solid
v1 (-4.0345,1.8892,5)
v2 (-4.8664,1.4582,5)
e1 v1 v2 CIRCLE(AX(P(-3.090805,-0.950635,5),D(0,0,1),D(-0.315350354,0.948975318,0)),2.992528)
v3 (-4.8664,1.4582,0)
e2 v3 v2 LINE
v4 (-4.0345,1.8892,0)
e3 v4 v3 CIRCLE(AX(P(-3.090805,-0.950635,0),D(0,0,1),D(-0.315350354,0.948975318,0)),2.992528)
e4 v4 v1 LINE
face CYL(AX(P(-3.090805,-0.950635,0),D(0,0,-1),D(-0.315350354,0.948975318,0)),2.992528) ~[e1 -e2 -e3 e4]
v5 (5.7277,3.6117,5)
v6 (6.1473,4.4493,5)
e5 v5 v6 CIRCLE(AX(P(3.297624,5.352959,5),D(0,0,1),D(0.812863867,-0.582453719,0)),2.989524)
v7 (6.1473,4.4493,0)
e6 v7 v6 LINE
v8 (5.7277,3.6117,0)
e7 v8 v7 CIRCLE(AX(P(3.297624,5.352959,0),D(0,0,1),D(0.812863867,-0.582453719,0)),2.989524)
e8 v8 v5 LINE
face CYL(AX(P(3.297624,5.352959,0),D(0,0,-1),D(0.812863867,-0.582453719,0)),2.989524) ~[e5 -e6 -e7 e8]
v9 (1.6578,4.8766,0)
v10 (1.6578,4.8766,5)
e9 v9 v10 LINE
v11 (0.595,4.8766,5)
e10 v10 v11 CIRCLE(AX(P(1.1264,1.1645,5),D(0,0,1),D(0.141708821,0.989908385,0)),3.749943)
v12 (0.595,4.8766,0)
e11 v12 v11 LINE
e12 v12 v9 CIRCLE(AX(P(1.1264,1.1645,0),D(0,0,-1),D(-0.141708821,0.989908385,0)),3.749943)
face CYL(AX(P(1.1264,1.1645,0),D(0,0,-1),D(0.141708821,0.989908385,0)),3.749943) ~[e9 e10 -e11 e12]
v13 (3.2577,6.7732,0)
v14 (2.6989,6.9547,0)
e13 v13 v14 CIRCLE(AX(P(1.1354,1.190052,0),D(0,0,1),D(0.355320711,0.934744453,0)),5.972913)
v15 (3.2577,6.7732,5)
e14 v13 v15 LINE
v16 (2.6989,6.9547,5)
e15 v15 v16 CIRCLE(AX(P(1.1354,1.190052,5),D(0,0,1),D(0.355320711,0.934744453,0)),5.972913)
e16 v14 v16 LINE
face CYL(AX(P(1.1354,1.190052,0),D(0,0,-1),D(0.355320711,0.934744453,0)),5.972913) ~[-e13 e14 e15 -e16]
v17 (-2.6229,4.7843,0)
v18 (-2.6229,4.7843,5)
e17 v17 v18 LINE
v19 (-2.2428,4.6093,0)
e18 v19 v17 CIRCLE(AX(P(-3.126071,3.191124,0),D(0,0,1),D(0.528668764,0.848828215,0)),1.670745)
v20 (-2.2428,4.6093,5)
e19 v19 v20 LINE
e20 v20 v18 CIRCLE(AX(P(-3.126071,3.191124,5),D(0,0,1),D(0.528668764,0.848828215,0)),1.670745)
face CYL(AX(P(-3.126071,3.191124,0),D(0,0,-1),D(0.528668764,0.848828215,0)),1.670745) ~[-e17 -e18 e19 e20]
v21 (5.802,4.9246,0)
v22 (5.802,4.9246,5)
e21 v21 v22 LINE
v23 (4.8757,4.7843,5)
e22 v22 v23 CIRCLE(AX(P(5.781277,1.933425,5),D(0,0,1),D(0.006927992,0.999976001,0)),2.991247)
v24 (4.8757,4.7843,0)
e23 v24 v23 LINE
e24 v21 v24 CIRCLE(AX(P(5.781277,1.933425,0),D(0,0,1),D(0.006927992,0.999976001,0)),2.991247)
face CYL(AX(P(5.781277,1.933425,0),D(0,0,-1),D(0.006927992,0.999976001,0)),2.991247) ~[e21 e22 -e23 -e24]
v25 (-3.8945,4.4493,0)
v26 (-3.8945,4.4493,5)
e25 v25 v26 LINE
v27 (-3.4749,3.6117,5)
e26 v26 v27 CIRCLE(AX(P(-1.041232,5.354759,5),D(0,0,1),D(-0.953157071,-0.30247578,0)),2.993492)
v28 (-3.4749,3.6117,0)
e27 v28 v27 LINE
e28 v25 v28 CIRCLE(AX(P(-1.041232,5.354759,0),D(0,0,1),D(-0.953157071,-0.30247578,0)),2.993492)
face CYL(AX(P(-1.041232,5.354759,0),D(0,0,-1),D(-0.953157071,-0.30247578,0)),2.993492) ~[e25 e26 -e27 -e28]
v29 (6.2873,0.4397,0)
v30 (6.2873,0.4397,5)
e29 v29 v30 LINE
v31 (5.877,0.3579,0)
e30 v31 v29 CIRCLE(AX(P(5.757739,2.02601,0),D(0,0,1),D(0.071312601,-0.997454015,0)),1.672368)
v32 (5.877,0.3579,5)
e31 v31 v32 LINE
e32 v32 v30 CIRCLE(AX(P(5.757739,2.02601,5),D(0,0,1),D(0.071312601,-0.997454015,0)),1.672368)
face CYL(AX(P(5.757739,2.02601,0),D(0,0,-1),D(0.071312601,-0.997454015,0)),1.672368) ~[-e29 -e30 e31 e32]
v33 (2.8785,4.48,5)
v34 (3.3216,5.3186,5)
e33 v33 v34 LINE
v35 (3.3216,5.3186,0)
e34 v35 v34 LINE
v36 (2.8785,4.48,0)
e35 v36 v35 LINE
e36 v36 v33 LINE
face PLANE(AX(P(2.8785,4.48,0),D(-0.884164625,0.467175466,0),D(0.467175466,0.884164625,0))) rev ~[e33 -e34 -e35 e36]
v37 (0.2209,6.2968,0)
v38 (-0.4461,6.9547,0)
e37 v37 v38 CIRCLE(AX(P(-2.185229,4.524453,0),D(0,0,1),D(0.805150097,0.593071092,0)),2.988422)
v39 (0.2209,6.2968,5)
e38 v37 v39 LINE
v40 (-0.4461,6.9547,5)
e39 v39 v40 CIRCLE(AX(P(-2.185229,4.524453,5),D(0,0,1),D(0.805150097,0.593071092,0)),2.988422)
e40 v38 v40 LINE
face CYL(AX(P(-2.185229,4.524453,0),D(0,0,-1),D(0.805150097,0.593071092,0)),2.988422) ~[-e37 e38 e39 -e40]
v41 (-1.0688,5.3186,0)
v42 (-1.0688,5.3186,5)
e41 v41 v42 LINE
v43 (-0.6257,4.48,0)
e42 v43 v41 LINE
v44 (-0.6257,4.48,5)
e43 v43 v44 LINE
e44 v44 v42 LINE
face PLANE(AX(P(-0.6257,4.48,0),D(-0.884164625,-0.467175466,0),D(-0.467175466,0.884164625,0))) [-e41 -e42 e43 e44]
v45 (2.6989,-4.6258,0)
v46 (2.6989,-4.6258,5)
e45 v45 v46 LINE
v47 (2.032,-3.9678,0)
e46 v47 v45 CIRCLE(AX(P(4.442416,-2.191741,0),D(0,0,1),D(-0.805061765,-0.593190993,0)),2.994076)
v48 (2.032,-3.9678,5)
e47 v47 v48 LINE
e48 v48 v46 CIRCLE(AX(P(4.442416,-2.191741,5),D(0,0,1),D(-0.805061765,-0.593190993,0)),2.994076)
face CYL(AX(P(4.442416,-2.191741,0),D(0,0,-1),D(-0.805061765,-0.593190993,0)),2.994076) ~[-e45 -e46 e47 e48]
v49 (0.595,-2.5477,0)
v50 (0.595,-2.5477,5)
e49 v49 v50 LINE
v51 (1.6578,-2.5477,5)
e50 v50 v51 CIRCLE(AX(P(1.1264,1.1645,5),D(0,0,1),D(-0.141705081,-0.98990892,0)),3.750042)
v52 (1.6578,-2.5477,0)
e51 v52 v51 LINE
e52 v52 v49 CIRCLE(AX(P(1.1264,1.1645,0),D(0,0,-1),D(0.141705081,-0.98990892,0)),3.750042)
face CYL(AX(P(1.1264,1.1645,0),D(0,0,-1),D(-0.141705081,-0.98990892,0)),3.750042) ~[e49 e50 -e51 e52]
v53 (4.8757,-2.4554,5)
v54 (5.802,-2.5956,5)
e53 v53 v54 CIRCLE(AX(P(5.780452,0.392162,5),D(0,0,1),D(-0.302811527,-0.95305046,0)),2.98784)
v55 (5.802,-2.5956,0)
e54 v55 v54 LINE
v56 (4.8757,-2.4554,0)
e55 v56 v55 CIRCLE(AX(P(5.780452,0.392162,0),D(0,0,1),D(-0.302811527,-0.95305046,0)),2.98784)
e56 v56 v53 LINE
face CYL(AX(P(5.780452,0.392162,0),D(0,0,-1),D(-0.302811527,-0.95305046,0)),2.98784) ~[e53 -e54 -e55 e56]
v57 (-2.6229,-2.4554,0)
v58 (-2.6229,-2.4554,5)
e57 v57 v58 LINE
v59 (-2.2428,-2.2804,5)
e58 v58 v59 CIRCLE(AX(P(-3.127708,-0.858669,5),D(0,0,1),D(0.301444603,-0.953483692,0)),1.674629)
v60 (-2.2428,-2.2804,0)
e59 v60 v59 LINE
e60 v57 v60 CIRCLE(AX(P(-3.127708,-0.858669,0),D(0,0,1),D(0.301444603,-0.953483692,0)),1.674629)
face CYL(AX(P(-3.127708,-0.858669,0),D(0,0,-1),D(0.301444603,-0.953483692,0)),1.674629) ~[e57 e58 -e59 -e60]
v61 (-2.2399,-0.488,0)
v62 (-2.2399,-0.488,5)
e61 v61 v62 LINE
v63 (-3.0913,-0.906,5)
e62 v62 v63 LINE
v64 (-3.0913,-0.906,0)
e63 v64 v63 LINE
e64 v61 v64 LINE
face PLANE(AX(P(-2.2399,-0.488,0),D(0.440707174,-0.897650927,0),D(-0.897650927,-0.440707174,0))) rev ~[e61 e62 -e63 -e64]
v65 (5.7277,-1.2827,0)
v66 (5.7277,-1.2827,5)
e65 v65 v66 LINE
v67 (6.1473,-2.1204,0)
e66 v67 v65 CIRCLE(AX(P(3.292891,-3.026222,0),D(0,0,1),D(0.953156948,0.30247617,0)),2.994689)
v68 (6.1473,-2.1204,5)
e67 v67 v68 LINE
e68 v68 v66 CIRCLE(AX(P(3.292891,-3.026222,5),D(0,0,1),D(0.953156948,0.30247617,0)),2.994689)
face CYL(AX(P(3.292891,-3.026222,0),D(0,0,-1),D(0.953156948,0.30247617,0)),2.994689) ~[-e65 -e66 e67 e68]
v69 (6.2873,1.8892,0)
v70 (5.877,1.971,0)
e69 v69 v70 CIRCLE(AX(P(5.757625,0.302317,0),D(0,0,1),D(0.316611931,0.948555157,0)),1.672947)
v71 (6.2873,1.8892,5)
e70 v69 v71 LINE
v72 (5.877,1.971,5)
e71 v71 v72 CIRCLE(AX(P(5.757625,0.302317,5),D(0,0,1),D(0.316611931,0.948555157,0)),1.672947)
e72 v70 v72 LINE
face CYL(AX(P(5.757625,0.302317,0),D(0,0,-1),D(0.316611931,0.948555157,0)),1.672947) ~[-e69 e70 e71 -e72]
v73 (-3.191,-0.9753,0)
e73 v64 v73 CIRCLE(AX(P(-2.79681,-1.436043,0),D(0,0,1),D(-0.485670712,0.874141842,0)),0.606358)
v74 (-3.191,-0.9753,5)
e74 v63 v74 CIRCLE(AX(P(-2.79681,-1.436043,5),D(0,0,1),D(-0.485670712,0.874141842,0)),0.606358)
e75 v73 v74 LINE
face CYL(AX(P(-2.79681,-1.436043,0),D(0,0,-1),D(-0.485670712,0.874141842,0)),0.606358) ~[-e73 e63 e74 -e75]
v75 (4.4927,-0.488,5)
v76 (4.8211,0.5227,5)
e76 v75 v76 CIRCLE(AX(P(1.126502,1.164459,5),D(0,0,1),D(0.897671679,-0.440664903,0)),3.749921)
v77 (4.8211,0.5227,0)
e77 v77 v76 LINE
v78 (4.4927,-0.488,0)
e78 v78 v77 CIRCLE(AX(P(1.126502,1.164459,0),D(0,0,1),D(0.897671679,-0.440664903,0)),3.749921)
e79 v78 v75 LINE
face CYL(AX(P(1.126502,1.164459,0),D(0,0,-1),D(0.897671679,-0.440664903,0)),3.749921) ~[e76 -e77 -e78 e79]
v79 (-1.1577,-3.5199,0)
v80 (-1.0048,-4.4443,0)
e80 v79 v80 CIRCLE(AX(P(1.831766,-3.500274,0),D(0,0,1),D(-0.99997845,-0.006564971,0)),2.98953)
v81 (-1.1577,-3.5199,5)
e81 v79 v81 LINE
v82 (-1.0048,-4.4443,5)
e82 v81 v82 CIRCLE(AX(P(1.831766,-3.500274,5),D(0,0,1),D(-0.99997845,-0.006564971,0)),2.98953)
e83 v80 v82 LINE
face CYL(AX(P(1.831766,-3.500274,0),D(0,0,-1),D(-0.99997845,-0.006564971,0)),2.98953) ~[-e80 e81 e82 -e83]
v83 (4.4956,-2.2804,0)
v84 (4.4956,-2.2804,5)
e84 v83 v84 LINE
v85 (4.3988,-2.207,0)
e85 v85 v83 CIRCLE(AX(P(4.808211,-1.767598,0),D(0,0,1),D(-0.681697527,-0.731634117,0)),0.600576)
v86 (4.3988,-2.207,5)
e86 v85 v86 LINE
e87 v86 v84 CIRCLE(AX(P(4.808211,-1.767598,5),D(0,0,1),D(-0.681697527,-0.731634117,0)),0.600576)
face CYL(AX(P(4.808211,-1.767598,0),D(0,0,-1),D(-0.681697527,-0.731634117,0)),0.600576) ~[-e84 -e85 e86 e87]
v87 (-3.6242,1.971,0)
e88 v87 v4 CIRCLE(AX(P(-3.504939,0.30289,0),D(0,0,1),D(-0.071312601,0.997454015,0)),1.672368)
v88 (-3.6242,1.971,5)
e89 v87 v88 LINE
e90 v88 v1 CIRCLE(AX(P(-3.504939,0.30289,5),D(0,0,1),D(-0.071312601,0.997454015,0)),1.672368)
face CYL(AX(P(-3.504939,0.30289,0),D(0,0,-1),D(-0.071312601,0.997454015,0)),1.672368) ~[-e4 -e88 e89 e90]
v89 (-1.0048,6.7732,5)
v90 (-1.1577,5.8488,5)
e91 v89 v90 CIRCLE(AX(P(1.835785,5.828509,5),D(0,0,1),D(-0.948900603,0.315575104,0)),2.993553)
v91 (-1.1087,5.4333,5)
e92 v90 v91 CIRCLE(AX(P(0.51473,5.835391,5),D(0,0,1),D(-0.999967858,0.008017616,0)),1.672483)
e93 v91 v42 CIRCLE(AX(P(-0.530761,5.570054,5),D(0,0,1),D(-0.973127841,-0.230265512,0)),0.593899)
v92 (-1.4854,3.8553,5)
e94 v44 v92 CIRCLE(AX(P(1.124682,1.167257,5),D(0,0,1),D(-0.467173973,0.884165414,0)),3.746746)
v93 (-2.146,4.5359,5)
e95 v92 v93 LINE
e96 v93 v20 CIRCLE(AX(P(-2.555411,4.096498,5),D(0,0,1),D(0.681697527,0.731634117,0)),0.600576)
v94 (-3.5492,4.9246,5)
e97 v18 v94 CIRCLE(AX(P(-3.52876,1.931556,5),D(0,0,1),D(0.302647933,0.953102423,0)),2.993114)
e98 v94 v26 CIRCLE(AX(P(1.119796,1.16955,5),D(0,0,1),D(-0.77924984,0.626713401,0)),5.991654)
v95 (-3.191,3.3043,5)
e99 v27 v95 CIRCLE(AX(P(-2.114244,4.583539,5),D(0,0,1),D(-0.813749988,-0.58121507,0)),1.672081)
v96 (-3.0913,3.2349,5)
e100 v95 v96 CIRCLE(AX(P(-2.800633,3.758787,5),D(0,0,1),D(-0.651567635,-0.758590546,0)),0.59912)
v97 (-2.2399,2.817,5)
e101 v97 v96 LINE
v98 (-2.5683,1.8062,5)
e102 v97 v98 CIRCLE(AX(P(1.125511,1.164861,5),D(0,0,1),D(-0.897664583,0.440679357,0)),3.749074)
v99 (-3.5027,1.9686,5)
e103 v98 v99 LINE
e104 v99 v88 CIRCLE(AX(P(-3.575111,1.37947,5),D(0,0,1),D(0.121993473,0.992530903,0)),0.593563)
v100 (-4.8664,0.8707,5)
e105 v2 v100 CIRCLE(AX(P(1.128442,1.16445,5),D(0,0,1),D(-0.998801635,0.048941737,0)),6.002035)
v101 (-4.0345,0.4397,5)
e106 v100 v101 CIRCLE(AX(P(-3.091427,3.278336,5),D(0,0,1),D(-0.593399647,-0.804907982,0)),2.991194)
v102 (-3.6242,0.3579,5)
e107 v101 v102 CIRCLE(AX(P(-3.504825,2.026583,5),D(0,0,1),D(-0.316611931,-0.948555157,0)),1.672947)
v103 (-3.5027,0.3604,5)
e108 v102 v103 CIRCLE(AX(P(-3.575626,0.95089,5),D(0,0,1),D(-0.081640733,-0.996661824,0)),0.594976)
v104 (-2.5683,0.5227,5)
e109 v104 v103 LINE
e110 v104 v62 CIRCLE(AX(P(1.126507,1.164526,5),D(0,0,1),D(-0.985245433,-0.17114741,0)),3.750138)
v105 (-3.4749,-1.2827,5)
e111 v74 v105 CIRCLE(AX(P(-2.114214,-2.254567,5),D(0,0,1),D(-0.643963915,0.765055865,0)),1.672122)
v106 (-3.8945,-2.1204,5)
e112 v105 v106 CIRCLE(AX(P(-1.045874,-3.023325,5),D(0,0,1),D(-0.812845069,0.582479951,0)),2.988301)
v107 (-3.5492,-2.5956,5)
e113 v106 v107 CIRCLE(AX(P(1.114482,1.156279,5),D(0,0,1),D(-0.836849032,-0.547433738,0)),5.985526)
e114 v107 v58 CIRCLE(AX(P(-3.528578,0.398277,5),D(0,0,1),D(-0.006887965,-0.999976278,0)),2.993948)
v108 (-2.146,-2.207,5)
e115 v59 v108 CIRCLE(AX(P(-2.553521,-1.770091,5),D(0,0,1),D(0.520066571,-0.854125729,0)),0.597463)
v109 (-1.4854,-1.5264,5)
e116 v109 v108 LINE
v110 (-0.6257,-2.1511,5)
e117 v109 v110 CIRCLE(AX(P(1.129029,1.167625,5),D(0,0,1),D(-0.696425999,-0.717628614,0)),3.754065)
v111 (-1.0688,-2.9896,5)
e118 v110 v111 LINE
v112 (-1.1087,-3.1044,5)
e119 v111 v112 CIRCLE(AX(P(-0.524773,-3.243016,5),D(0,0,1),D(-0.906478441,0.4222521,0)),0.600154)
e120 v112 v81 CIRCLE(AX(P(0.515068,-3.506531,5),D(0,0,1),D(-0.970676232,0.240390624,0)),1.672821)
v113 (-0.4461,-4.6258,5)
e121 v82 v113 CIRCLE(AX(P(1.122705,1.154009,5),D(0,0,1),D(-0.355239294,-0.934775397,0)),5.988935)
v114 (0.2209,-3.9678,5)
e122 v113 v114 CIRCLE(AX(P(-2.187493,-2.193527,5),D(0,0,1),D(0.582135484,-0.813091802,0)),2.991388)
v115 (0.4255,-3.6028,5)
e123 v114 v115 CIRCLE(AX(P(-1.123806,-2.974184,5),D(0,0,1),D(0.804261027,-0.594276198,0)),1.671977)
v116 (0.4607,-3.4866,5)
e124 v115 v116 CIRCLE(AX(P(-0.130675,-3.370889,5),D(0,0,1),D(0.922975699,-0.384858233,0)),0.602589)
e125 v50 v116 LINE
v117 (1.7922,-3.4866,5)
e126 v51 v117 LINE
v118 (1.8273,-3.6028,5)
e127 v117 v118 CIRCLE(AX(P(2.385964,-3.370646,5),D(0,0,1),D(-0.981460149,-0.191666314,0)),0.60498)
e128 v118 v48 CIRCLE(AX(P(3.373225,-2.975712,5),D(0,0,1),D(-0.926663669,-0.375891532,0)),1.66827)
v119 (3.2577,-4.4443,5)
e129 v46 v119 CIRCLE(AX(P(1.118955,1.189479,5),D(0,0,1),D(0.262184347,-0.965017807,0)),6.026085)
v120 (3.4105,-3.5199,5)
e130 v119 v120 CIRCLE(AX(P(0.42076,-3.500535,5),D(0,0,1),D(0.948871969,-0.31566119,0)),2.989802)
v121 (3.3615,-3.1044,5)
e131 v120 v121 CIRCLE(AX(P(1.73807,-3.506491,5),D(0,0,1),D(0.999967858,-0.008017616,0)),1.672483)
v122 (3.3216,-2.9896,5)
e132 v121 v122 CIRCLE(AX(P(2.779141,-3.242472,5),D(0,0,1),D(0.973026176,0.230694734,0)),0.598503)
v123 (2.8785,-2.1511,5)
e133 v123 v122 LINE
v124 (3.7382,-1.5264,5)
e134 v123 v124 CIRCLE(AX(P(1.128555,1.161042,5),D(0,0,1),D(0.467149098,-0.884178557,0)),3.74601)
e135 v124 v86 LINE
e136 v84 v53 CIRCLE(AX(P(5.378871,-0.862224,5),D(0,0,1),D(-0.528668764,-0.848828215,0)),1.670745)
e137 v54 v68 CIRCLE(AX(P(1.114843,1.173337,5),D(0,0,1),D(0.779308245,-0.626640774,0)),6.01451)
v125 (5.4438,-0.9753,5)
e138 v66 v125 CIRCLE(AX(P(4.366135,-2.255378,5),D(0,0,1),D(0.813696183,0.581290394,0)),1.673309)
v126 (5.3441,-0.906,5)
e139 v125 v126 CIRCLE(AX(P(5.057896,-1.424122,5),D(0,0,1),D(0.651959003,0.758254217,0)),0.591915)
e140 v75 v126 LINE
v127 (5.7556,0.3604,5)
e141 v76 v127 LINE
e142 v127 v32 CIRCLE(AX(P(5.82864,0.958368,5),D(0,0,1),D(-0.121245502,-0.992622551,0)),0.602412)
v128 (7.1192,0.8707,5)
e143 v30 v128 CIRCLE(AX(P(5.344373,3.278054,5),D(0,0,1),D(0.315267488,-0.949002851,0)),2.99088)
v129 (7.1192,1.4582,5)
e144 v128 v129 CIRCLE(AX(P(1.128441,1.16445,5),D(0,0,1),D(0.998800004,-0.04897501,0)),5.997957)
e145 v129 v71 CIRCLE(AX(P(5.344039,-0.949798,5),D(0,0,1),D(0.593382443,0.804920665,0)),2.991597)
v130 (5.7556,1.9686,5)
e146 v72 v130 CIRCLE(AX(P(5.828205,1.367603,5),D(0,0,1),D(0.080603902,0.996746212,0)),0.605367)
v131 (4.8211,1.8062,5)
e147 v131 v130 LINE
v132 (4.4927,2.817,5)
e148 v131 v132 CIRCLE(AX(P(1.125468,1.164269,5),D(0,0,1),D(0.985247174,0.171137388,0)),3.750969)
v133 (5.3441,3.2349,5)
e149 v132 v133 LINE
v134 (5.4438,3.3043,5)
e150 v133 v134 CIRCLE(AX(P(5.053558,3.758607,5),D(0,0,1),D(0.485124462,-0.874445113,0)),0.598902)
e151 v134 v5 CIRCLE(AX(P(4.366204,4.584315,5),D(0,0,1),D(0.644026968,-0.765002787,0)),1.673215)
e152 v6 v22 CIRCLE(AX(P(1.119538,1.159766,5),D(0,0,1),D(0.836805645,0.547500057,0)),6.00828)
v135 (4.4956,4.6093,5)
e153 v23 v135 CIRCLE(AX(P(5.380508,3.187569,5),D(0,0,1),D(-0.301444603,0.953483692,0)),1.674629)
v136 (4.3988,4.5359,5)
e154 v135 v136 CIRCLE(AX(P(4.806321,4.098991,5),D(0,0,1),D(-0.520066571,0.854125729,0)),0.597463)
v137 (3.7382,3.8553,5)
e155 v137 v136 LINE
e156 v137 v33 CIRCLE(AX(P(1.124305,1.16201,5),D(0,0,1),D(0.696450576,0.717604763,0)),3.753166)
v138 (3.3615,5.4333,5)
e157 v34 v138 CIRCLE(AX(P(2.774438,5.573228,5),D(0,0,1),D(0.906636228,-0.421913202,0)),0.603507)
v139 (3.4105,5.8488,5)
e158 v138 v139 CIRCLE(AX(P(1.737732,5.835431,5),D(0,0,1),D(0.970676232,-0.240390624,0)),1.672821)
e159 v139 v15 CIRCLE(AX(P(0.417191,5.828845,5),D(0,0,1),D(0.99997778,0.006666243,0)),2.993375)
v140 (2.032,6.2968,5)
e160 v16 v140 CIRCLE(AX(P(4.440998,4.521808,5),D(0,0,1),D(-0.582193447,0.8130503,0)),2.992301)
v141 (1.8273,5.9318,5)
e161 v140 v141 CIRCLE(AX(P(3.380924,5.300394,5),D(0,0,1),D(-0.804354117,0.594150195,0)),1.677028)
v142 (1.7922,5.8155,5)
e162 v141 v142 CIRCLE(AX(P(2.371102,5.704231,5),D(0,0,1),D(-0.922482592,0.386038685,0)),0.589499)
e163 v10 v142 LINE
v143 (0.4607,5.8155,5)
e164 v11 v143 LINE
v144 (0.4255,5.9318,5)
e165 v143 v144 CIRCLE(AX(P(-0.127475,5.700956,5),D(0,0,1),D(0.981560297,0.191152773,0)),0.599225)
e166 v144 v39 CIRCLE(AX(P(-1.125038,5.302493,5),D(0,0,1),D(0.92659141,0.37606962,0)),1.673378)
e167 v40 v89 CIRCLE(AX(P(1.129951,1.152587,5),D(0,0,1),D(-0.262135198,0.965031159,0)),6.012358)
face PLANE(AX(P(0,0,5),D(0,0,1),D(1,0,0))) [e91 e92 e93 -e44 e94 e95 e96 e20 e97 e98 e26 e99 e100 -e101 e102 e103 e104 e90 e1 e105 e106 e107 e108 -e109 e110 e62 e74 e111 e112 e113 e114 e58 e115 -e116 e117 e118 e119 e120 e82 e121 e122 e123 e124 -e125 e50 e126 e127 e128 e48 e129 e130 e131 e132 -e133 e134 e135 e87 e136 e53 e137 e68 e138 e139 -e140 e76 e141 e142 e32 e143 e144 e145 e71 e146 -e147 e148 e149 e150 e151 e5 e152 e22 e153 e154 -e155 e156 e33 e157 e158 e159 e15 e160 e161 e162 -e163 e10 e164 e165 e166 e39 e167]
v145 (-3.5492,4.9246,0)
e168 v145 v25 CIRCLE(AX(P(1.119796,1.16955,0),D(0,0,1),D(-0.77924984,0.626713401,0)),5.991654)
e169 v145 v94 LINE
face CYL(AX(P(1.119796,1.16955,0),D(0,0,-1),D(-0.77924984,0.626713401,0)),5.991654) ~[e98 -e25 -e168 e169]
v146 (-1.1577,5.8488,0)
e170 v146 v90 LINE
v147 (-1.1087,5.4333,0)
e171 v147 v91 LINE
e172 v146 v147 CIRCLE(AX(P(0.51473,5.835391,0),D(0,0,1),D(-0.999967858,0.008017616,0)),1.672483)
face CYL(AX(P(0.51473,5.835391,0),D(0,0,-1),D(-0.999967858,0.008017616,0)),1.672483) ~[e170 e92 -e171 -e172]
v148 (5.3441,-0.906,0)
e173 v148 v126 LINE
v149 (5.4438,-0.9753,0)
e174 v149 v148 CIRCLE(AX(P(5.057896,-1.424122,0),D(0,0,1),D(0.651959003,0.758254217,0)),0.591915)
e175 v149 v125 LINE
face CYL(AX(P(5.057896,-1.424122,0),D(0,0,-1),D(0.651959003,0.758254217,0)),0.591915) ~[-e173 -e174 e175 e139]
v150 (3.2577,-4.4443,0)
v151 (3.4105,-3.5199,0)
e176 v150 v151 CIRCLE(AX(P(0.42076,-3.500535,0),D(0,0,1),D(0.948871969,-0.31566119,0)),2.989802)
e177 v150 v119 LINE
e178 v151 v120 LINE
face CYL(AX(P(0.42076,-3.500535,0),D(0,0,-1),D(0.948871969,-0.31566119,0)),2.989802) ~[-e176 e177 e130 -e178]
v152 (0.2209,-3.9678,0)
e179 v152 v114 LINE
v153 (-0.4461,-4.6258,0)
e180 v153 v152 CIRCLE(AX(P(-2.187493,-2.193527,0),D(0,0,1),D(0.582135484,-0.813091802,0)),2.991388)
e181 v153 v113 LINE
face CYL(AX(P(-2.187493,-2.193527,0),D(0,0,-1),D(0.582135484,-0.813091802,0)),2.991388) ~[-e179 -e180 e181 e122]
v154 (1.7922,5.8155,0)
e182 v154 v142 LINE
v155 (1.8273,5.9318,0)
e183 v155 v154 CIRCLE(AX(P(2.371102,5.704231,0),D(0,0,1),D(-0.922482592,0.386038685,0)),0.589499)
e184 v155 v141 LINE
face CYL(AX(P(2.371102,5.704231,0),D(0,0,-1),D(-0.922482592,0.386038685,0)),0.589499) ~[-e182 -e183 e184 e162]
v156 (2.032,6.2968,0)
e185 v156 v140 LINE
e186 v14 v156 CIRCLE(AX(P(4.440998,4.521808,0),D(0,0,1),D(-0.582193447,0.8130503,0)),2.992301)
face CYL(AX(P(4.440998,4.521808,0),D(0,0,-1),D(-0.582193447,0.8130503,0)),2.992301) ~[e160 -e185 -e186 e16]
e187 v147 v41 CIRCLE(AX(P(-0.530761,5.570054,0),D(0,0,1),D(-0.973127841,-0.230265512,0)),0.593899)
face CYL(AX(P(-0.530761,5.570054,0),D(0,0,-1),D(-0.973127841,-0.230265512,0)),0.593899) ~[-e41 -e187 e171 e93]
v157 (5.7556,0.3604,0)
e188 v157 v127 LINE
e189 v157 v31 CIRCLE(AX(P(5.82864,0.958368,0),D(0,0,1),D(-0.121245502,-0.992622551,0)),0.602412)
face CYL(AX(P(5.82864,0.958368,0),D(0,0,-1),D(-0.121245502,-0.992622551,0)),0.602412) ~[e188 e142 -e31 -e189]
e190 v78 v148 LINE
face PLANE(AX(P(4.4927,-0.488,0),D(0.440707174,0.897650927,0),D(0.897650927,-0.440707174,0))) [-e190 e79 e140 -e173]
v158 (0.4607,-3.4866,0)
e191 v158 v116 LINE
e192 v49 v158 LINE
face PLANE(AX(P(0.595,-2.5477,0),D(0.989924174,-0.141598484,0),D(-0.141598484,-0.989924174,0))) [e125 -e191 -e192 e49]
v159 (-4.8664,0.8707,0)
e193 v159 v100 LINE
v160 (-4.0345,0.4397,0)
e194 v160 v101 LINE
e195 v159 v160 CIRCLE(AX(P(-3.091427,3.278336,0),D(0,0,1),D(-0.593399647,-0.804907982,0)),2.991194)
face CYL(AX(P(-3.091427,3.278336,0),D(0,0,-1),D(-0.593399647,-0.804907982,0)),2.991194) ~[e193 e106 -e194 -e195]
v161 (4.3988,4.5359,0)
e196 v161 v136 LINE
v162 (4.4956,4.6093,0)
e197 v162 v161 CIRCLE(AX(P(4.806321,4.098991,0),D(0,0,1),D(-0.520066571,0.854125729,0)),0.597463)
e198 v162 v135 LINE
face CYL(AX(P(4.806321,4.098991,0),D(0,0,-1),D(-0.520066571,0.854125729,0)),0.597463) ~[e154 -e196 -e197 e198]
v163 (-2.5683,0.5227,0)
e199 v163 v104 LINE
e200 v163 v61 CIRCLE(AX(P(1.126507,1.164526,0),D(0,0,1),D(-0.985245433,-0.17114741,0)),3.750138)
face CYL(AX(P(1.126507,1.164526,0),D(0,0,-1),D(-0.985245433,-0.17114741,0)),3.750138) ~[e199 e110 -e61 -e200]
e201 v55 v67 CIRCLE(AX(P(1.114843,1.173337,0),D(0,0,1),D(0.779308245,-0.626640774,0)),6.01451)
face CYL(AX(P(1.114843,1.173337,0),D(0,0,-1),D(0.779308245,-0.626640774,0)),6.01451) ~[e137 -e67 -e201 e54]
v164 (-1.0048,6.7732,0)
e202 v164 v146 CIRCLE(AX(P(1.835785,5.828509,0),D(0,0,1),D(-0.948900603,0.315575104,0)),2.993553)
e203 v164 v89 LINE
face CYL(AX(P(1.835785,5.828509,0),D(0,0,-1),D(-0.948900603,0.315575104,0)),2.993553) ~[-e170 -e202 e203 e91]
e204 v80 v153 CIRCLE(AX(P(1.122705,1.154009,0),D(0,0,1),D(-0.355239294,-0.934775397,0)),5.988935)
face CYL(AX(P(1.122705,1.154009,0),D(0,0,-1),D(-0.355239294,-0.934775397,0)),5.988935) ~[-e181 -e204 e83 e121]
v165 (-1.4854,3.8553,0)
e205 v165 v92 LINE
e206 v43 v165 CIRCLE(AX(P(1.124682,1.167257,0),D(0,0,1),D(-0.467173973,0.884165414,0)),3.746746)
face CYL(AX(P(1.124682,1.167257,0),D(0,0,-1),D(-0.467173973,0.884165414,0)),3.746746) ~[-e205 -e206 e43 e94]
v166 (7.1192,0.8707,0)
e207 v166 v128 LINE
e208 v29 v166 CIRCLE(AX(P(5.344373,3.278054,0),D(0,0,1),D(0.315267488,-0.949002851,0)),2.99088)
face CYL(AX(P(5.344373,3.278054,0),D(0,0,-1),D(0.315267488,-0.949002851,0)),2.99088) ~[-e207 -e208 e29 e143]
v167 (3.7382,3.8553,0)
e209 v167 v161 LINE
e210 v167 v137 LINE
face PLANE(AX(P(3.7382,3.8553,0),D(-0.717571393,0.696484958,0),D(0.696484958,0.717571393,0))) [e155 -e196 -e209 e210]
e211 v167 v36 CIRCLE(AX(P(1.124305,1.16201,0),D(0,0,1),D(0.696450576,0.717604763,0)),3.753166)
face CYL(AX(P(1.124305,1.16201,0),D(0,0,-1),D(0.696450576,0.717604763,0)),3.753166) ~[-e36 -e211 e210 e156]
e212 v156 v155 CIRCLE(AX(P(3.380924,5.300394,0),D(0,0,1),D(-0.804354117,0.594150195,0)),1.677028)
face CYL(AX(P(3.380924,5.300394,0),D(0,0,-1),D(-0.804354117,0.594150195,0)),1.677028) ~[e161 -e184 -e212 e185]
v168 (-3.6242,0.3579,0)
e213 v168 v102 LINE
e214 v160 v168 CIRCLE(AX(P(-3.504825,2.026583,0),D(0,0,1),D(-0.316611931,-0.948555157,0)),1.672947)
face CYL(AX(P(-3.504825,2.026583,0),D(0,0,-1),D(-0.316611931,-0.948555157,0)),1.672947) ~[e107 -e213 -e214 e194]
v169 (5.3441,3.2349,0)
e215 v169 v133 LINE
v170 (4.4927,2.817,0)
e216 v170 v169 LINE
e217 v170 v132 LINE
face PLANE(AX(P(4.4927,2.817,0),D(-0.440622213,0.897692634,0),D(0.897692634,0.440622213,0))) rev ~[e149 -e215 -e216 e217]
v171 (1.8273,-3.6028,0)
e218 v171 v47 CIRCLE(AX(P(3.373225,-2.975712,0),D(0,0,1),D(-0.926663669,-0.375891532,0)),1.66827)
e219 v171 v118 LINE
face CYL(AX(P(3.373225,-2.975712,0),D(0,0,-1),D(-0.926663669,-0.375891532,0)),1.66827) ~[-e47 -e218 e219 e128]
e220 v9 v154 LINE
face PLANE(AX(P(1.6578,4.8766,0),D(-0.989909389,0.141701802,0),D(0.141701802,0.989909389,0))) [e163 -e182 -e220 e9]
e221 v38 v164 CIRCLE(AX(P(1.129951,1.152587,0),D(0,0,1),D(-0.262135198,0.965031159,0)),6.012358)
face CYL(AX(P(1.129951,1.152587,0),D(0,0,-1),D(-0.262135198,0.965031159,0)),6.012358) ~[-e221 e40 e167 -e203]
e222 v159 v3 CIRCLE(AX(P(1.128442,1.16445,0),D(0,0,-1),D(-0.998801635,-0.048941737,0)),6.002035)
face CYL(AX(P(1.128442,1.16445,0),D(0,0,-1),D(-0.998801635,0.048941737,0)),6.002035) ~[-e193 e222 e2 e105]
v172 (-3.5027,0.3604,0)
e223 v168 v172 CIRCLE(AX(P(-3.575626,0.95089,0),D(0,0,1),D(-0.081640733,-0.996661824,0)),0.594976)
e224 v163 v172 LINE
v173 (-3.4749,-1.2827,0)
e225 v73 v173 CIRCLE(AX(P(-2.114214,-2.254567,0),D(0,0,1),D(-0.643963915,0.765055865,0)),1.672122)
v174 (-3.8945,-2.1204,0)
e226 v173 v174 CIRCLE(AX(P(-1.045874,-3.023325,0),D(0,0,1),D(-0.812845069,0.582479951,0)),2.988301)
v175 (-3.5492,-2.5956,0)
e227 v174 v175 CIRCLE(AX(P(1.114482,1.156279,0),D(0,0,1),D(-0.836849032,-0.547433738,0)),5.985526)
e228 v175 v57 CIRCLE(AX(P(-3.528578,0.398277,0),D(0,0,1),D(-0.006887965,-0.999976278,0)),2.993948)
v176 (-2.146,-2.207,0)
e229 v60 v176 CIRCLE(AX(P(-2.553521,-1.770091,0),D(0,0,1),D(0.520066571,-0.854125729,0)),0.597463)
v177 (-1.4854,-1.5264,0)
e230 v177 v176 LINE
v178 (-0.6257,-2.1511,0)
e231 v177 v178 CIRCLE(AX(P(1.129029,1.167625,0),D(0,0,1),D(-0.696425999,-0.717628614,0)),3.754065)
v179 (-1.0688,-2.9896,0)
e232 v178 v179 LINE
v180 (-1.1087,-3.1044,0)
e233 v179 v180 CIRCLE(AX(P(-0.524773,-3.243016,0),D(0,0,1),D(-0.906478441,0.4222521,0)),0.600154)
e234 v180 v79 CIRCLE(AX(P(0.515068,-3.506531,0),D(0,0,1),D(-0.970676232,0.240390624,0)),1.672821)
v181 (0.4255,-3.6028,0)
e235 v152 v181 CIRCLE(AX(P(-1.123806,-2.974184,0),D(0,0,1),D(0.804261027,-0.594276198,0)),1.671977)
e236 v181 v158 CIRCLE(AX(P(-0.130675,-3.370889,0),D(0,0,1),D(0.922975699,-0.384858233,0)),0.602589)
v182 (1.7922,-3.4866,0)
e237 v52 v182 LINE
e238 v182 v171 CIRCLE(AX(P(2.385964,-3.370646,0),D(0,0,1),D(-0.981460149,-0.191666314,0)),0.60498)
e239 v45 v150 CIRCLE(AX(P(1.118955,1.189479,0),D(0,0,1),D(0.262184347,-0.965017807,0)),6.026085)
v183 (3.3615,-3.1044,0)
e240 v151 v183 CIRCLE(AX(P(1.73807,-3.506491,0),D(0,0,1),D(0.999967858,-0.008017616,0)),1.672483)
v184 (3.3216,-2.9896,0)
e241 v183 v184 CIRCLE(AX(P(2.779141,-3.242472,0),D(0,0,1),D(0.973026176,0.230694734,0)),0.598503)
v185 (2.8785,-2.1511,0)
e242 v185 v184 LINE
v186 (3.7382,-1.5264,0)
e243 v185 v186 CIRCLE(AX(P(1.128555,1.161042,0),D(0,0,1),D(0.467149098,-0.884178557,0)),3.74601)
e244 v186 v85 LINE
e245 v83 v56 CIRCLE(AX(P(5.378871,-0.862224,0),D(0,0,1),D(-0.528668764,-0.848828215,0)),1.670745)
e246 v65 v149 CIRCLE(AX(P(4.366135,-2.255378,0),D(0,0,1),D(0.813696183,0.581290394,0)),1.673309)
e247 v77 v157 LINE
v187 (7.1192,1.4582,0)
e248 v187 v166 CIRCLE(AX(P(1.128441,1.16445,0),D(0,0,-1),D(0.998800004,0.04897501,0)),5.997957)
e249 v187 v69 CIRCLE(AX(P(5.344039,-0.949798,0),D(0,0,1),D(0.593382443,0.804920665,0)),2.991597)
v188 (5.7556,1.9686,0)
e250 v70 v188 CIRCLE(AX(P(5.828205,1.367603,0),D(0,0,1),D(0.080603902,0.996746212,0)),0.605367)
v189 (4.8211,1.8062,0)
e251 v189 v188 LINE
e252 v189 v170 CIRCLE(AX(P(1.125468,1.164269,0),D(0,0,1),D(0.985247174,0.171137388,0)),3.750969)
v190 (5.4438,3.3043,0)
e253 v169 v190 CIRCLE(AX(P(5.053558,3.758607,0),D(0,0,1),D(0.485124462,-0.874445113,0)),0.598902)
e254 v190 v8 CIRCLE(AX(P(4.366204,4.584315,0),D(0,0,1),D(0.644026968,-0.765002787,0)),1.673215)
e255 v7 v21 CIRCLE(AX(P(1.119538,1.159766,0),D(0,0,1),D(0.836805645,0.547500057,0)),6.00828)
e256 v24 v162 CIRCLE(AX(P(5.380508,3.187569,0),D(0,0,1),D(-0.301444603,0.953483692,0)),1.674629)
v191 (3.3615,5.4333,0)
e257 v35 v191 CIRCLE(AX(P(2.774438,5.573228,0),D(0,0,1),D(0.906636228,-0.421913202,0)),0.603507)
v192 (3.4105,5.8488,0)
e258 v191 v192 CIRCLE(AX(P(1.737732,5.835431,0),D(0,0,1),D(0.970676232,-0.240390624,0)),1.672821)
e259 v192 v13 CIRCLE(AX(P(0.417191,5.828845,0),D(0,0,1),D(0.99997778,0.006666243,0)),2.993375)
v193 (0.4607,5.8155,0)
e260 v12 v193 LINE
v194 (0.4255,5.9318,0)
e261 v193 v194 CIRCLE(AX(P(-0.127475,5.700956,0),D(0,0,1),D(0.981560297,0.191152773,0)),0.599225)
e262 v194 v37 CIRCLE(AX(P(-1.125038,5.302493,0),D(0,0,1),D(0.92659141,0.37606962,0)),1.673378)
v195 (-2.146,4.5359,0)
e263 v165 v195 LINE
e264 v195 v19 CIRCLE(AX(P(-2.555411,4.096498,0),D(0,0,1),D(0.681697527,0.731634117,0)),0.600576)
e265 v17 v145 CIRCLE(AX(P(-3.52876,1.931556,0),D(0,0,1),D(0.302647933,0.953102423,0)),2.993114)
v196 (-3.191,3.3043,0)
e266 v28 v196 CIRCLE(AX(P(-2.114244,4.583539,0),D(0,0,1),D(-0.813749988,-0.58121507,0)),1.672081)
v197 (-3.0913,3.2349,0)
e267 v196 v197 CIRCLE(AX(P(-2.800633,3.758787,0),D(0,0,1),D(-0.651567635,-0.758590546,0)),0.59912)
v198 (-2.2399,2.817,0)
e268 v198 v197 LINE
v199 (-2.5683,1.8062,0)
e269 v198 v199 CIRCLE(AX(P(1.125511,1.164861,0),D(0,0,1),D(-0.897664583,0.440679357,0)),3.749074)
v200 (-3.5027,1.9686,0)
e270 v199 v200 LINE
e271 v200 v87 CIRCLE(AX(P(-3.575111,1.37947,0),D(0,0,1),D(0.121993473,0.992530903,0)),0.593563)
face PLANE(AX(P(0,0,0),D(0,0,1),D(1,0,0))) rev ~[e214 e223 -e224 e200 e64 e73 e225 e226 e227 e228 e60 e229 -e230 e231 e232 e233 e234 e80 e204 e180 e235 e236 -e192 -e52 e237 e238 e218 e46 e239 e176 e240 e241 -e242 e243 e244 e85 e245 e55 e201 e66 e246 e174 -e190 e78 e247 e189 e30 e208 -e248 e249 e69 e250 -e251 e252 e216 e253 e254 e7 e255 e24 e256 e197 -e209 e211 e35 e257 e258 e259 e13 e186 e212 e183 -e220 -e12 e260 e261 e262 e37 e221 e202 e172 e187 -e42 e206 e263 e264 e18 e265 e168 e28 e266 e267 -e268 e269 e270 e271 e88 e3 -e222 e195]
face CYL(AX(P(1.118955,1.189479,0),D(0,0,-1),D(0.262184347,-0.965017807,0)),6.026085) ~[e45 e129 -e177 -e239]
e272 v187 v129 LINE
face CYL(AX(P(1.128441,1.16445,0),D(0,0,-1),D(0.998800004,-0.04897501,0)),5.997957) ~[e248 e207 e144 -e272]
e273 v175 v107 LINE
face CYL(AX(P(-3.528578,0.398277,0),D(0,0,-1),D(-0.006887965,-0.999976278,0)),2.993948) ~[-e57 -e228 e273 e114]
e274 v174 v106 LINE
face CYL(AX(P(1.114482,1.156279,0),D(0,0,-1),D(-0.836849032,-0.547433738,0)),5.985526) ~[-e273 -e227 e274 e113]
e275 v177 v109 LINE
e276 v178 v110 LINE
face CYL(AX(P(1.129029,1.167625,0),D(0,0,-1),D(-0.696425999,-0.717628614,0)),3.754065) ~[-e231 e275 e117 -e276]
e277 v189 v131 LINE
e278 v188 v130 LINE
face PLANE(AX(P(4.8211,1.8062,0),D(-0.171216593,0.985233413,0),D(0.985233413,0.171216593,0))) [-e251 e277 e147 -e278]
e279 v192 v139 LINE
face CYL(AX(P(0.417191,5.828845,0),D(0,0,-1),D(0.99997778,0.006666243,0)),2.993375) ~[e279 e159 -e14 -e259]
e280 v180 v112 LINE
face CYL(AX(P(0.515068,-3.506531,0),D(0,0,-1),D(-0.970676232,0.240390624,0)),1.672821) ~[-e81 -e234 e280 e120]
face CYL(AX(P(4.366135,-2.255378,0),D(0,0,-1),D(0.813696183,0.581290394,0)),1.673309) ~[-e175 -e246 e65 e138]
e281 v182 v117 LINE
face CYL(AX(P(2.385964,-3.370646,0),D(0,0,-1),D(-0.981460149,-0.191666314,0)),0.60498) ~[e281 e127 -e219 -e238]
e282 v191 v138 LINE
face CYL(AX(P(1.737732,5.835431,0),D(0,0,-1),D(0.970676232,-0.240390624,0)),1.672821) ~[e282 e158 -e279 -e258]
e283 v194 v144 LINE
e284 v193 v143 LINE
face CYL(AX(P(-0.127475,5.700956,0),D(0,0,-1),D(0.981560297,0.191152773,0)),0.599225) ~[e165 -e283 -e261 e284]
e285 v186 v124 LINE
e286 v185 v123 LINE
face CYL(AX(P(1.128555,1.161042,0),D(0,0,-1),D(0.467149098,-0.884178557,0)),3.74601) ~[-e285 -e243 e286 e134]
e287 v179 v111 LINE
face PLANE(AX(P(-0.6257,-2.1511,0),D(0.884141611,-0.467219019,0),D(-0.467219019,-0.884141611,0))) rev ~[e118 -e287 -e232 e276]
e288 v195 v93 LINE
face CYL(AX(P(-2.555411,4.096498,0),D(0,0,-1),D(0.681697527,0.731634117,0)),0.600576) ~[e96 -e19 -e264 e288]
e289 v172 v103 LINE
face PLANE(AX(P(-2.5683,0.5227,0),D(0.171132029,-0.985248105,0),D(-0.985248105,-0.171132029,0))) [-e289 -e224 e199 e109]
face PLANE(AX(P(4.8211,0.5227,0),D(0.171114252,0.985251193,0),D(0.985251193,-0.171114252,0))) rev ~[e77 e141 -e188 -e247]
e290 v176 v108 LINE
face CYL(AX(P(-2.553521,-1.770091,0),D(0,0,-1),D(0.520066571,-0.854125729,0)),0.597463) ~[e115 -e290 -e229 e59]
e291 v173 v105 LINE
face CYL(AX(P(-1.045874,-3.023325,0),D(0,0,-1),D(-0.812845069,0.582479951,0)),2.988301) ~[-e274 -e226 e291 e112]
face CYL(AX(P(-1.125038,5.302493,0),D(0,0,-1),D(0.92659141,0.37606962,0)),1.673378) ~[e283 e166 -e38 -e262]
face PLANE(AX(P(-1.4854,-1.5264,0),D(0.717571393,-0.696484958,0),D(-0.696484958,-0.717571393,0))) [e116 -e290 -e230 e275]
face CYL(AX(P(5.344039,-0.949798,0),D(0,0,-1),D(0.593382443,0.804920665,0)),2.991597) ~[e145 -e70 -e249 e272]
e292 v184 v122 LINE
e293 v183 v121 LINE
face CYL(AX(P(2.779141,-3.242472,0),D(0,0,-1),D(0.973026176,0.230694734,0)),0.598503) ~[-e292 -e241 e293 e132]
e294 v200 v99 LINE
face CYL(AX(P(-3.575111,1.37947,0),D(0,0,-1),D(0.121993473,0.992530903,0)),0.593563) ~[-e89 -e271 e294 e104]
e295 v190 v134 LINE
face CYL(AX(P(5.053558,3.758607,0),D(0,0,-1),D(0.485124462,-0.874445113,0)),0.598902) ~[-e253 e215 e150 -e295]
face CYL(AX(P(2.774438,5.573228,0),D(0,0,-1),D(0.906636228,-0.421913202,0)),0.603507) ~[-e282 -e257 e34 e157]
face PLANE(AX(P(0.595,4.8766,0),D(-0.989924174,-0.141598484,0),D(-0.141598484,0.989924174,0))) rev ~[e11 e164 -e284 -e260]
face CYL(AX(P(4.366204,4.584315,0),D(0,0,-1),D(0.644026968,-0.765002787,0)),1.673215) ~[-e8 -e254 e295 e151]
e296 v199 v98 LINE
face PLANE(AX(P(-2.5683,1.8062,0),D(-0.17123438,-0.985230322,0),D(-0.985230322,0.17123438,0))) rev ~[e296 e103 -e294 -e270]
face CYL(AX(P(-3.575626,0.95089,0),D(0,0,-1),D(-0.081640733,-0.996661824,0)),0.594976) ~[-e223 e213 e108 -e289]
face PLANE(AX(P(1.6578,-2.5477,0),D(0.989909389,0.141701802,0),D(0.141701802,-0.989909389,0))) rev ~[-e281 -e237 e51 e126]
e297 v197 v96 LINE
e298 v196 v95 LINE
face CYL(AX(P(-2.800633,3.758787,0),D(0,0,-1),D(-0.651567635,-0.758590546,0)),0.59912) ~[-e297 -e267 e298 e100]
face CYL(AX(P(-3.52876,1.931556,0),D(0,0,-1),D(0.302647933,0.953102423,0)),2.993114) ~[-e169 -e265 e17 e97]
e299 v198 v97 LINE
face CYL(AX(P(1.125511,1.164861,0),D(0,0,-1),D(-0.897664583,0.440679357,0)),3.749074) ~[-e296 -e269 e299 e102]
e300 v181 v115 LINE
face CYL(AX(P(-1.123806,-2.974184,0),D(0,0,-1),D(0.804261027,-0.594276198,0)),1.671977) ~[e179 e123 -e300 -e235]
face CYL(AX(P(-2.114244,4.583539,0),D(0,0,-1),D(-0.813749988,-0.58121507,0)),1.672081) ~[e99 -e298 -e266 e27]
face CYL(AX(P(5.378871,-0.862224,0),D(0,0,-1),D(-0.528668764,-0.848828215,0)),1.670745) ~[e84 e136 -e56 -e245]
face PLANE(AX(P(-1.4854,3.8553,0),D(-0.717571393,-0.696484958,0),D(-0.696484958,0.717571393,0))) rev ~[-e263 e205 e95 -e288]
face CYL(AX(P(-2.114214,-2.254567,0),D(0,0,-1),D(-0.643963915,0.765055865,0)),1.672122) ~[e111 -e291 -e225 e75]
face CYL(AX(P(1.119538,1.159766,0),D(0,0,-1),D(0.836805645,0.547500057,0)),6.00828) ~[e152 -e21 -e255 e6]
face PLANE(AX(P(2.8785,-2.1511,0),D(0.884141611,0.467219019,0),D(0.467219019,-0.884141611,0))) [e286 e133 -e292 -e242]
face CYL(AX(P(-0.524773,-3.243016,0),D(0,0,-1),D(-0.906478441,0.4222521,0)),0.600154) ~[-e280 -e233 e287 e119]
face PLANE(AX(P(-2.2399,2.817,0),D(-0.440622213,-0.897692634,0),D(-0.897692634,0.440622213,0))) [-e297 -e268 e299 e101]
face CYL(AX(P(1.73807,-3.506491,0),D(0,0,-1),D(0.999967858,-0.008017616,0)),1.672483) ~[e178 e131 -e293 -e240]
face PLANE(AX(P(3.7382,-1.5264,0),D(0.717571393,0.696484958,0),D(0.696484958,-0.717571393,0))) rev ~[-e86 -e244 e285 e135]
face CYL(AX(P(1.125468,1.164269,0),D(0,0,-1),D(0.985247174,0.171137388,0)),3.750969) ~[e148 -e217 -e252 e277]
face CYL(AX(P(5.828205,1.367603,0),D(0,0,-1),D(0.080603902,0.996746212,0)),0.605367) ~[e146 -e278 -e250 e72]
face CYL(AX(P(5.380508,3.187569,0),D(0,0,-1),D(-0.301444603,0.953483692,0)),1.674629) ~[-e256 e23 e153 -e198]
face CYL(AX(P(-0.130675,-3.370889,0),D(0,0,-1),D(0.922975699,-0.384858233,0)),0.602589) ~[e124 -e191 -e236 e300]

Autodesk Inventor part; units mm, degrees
ref_plane "YZ Plane" through (0, 0, 0) normal (1, 0, 0) x (0, 1, 0)
ref_plane "XZ Plane" through (0, 0, 0) normal (0, 1, 0) x (-1, 0, 0)
ref_plane "XY Plane" through (0, 0, 0) normal (0, 0, 1) x (1, 0, 0)
sketch "スケッチ1" plane through (0, 0, 0) normal (0, 0, 1) x (1, 0, 0)
  arc A0 (1.8273, 5.9318) -> (1.7922, 5.8155) centre (2.3801, 5.701) ccw
  arc A1 (2.032, 6.2968) -> (1.8273, 5.9318) centre (3.3772, 5.3028) ccw
  arc A2 (2.6989, 6.9547) -> (2.032, 6.2968) centre (4.4405, 4.5224) ccw
  arc A3 (0.4607, 5.8155) -> (0.4255, 5.9318) centre (-0.1273, 5.701) ccw
  arc A4 (0.4255, 5.9318) -> (0.2209, 6.2968) centre (-1.1244, 5.3028) ccw
  arc A5 (0.2209, 6.2968) -> (-0.4461, 6.9547) centre (-2.1876, 4.5224) ccw
  arc A6 (1.6578, 4.8766) -> (0.595, 4.8766) centre (1.1264, 1.1645) ccw
  arc A7 (-0.4461, 6.9547) -> (-1.0048, 6.7732) centre (1.1264, 1.1645) ccw
  line L0 (1.6578, 4.8766) -> (1.7922, 5.8155)
  line L1 (0.595, 4.8766) -> (0.4607, 5.8155)
  line L2 (-6.8736, 1.1645) -> (9.1264, 1.1645)
  line L3 (1.1264, -6.8355) -> (1.1264, 9.1645)
  arc A8 (-2.146, 4.5359) -> (-2.2428, 4.6093) centre (-2.5544, 4.0977) ccw
  arc A9 (-2.2428, 4.6093) -> (-2.6229, 4.7843) centre (-3.127, 3.1894) ccw
  arc A10 (-2.6229, 4.7843) -> (-3.5492, 4.9246) centre (-3.5284, 1.9331) ccw
  arc A11 (-3.5492, 4.9246) -> (-3.8945, 4.4493) centre (1.1264, 1.1645) ccw
  line L4 (-1.4854, 3.8553) -> (-2.146, 4.5359)
  arc A12 (-0.6257, 4.48) -> (-1.4854, 3.8553) centre (1.1264, 1.1645) ccw
  line L5 (-0.6257, 4.48) -> (-1.0688, 5.3186)
  arc A13 (-1.1087, 5.4333) -> (-1.0688, 5.3186) centre (-0.5258, 5.5715) ccw
  arc A14 (-1.1577, 5.8488) -> (-1.1087, 5.4333) centre (0.5149, 5.8354) ccw
  arc A15 (-1.0048, 6.7732) -> (-1.1577, 5.8488) centre (1.8338, 5.829) ccw
  arc A16 (-3.5027, 1.9686) -> (-3.6242, 1.971) centre (-3.5755, 1.374) ccw
  arc A17 (-3.6242, 1.971) -> (-4.0345, 1.8892) centre (-3.5049, 0.3026) ccw
  arc A18 (-4.0345, 1.8892) -> (-4.8664, 1.4582) centre (-3.0912, -0.9497) ccw
  arc A19 (-4.8664, 1.4582) -> (-4.8664, 0.8707) centre (1.1264, 1.1645) ccw
  line L6 (-2.5683, 1.8062) -> (-3.5027, 1.9686)
  arc A20 (-2.2399, 2.817) -> (-2.5683, 1.8062) centre (1.1264, 1.1645) ccw
  line L7 (-2.2399, 2.817) -> (-3.0913, 3.2349)
  arc A21 (-3.191, 3.3043) -> (-3.0913, 3.2349) centre (-2.8007, 3.7587) ccw
  arc A22 (-3.4749, 3.6117) -> (-3.191, 3.3043) centre (-2.1138, 4.5839) ccw
  arc A23 (-3.8945, 4.4493) -> (-3.4749, 3.6117) centre (-1.0431, 5.354) ccw
  arc A24 (-3.0913, -0.906) -> (-3.191, -0.9753) centre (-2.8007, -1.4298) ccw
  arc A25 (-3.191, -0.9753) -> (-3.4749, -1.2827) centre (-2.1138, -2.255) ccw
  arc A26 (-3.4749, -1.2827) -> (-3.8945, -2.1204) centre (-1.0431, -3.025) ccw
  arc A27 (-3.8945, -2.1204) -> (-3.5492, -2.5956) centre (1.1264, 1.1645) ccw
  line L8 (-2.2399, -0.488) -> (-3.0913, -0.906)
  arc A28 (-2.5683, 0.5227) -> (-2.2399, -0.488) centre (1.1264, 1.1645) ccw
  line L9 (-2.5683, 0.5227) -> (-3.5027, 0.3604)
  arc A29 (-3.6242, 0.3579) -> (-3.5027, 0.3604) centre (-3.5755, 0.955) ccw
  arc A30 (-4.0345, 0.4397) -> (-3.6242, 0.3579) centre (-3.5049, 2.0263) ccw
  arc A31 (-4.8664, 0.8707) -> (-4.0345, 0.4397) centre (-3.0912, 3.2787) ccw
  arc A32 (-1.0688, -2.9896) -> (-1.1087, -3.1044) centre (-0.5258, -3.2426) ccw
  arc A33 (-1.1087, -3.1044) -> (-1.1577, -3.5199) centre (0.5149, -3.5065) ccw
  arc A34 (-1.1577, -3.5199) -> (-1.0048, -4.4443) centre (1.8338, -3.5001) ccw
  arc A35 (-1.0048, -4.4443) -> (-0.4461, -4.6258) centre (1.1264, 1.1645) ccw
  line L10 (-0.6257, -2.1511) -> (-1.0688, -2.9896)
  arc A36 (-1.4854, -1.5264) -> (-0.6257, -2.1511) centre (1.1264, 1.1645) ccw
  line L11 (-1.4854, -1.5264) -> (-2.146, -2.207)
  arc A37 (-2.2428, -2.2804) -> (-2.146, -2.207) centre (-2.5544, -1.7688) ccw
  arc A38 (-2.6229, -2.4554) -> (-2.2428, -2.2804) centre (-3.127, -0.8605) ccw
  arc A39 (-3.5492, -2.5956) -> (-2.6229, -2.4554) centre (-3.5284, 0.3958) ccw
  arc A40 (1.7922, -3.4866) -> (1.8273, -3.6028) centre (2.3801, -3.3721) ccw
  arc A41 (1.8273, -3.6028) -> (2.032, -3.9678) centre (3.3772, -2.9738) ccw
  arc A42 (2.032, -3.9678) -> (2.6989, -4.6258) centre (4.4405, -2.1934) ccw
  arc A43 (2.6989, -4.6258) -> (3.2577, -4.4443) centre (1.1264, 1.1645) ccw
  line L12 (1.6578, -2.5477) -> (1.7922, -3.4866)
  arc A44 (0.595, -2.5477) -> (1.6578, -2.5477) centre (1.1264, 1.1645) ccw
  line L13 (0.595, -2.5477) -> (0.4607, -3.4866)
  arc A45 (0.4255, -3.6028) -> (0.4607, -3.4866) centre (-0.1273, -3.3721) ccw
  arc A46 (0.2209, -3.9678) -> (0.4255, -3.6028) centre (-1.1244, -2.9738) ccw
  arc A47 (-0.4461, -4.6258) -> (0.2209, -3.9678) centre (-2.1876, -2.1934) ccw
  arc A48 (4.3988, -2.207) -> (4.4956, -2.2804) centre (4.8072, -1.7688) ccw
  arc A49 (4.4956, -2.2804) -> (4.8757, -2.4554) centre (5.3798, -0.8605) ccw
  arc A50 (4.8757, -2.4554) -> (5.802, -2.5956) centre (5.7813, 0.3958) ccw
  arc A51 (5.802, -2.5956) -> (6.1473, -2.1204) centre (1.1264, 1.1645) ccw
  line L14 (3.7382, -1.5264) -> (4.3988, -2.207)
  arc A52 (2.8785, -2.1511) -> (3.7382, -1.5264) centre (1.1264, 1.1645) ccw
  line L15 (2.8785, -2.1511) -> (3.3216, -2.9896)
  arc A53 (3.3615, -3.1044) -> (3.3216, -2.9896) centre (2.7787, -3.2426) ccw
  arc A54 (3.4105, -3.5199) -> (3.3615, -3.1044) centre (1.7379, -3.5065) ccw
  arc A55 (3.2577, -4.4443) -> (3.4105, -3.5199) centre (0.419, -3.5001) ccw
  arc A56 (5.7556, 0.3604) -> (5.877, 0.3579) centre (5.8284, 0.955) ccw
  arc A57 (5.877, 0.3579) -> (6.2873, 0.4397) centre (5.7577, 2.0263) ccw
  arc A58 (6.2873, 0.4397) -> (7.1192, 0.8707) centre (5.3441, 3.2787) ccw
  arc A59 (7.1192, 0.8707) -> (7.1192, 1.4582) centre (1.1264, 1.1645) ccw
  line L16 (4.8211, 0.5227) -> (5.7556, 0.3604)
  arc A60 (4.4927, -0.488) -> (4.8211, 0.5227) centre (1.1264, 1.1645) ccw
  line L17 (4.4927, -0.488) -> (5.3441, -0.906)
  arc A61 (5.4438, -0.9753) -> (5.3441, -0.906) centre (5.0535, -1.4298) ccw
  arc A62 (5.7277, -1.2827) -> (5.4438, -0.9753) centre (4.3666, -2.255) ccw
  arc A63 (6.1473, -2.1204) -> (5.7277, -1.2827) centre (3.2959, -3.025) ccw
  arc A64 (5.3441, 3.2349) -> (5.4438, 3.3043) centre (5.0535, 3.7587) ccw
  arc A65 (5.4438, 3.3043) -> (5.7277, 3.6117) centre (4.3666, 4.5839) ccw
  arc A66 (5.7277, 3.6117) -> (6.1473, 4.4493) centre (3.2959, 5.354) ccw
  arc A67 (6.1473, 4.4493) -> (5.802, 4.9246) centre (1.1264, 1.1645) ccw
  line L18 (4.4927, 2.817) -> (5.3441, 3.2349)
  arc A68 (4.8211, 1.8062) -> (4.4927, 2.817) centre (1.1264, 1.1645) ccw
  line L19 (4.8211, 1.8062) -> (5.7556, 1.9686)
  arc A69 (5.877, 1.971) -> (5.7556, 1.9686) centre (5.8284, 1.374) ccw
  arc A70 (6.2873, 1.8892) -> (5.877, 1.971) centre (5.7577, 0.3026) ccw
  arc A71 (7.1192, 1.4582) -> (6.2873, 1.8892) centre (5.3441, -0.9497) ccw
  arc A72 (3.3216, 5.3186) -> (3.3615, 5.4333) centre (2.7787, 5.5715) ccw
  arc A73 (3.3615, 5.4333) -> (3.4105, 5.8488) centre (1.7379, 5.8354) ccw
  arc A74 (3.4105, 5.8488) -> (3.2577, 6.7732) centre (0.419, 5.829) ccw
  arc A75 (3.2577, 6.7732) -> (2.6989, 6.9547) centre (1.1264, 1.1645) ccw
  line L20 (2.8785, 4.48) -> (3.3216, 5.3186)
  arc A76 (3.7382, 3.8553) -> (2.8785, 4.48) centre (1.1264, 1.1645) ccw
  line L21 (3.7382, 3.8553) -> (4.3988, 4.5359)
  arc A77 (4.4956, 4.6093) -> (4.3988, 4.5359) centre (4.8072, 4.0977) ccw
  arc A78 (4.8757, 4.7843) -> (4.4956, 4.6093) centre (5.3798, 3.1894) ccw
  arc A79 (5.802, 4.9246) -> (4.8757, 4.7843) centre (5.7813, 1.9331) ccw
  point P0 (0, 0)
  point P1 (-4.0295, 1.8909)
  point P2 (-4.8664, 1.4582)
  point P3 (-4.8664, 0.8707)
  point P4 (-4.0295, 0.4381)
  point P5 (-3.6149, 0.3572)
  point P6 (-3.0913, -0.906)
  point P7 (-3.1839, -0.9694)
  point P8 (-3.4718, -1.2784)
  point P9 (-3.8945, -2.1204)
  point P10 (-3.5492, -2.5956)
  point P11 (-2.6178, -2.4538)
  point P12 (-2.235, -2.2755)
  point P13 (-1.4854, -1.5264)
  point P14 (-0.6257, -2.1511)
  point P15 (-1.1065, -3.0954)
  point P16 (-1.1577, -3.5146)
  point P17 (-1.0048, -4.4443)
  point P18 (-0.4461, -4.6258)
  point P19 (0.224, -3.9636)
  point P20 (0.429, -3.5943)
  point P21 (0.595, -2.5477)
  point P22 (1.6578, -2.5477)
  point P23 (1.8239, -3.5943)
  point P24 (2.0288, -3.9636)
  point P25 (2.6989, -4.6258)
  point P26 (3.2577, -4.4443)
  point P27 (3.4105, -3.5146)
  point P28 (3.3593, -3.0954)
  point P29 (2.8785, -2.1511)
  point P30 (4.4878, -2.2755)
  point P31 (4.8707, -2.4538)
  point P32 (5.802, -2.5956)
  point P33 (6.1473, -2.1204)
  point P34 (5.7246, -1.2784)
  point P35 (5.4367, -0.9694)
  point P36 (5.3441, -0.906)
  point P37 (4.4927, -0.488)
  point P38 (4.8211, 0.5227)
  point P39 (5.8678, 0.3572)
  point P40 (6.2823, 0.4381)
  point P41 (7.1192, 0.8707)
  point P42 (7.1192, 1.4582)
  point P43 (6.2823, 1.8909)
  point P44 (5.8678, 1.9717)
  point P45 (4.8211, 1.8062)
  point P46 (5.4367, 3.2983)
  point P47 (5.7246, 3.6074)
  point P48 (6.1473, 4.4493)
  point P49 (5.802, 4.9246)
  point P50 (4.8707, 4.7827)
  point P51 (4.4878, 4.6044)
  point P52 (3.7382, 3.8553)
  point P53 (3.3216, 5.3186)
  point P54 (3.3593, 5.4243)
  point P55 (3.4105, 5.8436)
  point P56 (3.2577, 6.7732)
  point P57 (2.6989, 6.9547)
  point P58 (2.0288, 6.2925)
  point P59 (1.8239, 5.9232)
  point P60 (1.6578, 4.8766)
  point P61 (0.595, 4.8766)
  point P62 (0.4607, 5.8155)
  point P63 (0.429, 5.9232)
  point P64 (0.224, 6.2925)
  point P65 (-0.4461, 6.9547)
  point P66 (-1.0048, 6.7732)
  point P67 (-1.1577, 5.8436)
  point P68 (-1.1065, 5.4243)
  point P69 (-0.6257, 4.48)
  point P70 (-1.4854, 3.8553)
  point P71 (-2.235, 4.6044)
  point P72 (-2.6178, 4.7827)
  point P73 (-3.5492, 4.9246)
  point P74 (-3.8945, 4.4493)
  point P75 (-3.4718, 3.6074)
  point P76 (-3.1839, 3.2983)
  point P77 (-2.5683, 1.8062)
  point P78 (-3.5027, 1.9686)
  point P79 (-3.6149, 1.9717)
  dimension "d2" = 360
extrude "押し出し1" add sketch "スケッチ1" along normal blind 5
properties part number "m1歯数10ギア5t"
